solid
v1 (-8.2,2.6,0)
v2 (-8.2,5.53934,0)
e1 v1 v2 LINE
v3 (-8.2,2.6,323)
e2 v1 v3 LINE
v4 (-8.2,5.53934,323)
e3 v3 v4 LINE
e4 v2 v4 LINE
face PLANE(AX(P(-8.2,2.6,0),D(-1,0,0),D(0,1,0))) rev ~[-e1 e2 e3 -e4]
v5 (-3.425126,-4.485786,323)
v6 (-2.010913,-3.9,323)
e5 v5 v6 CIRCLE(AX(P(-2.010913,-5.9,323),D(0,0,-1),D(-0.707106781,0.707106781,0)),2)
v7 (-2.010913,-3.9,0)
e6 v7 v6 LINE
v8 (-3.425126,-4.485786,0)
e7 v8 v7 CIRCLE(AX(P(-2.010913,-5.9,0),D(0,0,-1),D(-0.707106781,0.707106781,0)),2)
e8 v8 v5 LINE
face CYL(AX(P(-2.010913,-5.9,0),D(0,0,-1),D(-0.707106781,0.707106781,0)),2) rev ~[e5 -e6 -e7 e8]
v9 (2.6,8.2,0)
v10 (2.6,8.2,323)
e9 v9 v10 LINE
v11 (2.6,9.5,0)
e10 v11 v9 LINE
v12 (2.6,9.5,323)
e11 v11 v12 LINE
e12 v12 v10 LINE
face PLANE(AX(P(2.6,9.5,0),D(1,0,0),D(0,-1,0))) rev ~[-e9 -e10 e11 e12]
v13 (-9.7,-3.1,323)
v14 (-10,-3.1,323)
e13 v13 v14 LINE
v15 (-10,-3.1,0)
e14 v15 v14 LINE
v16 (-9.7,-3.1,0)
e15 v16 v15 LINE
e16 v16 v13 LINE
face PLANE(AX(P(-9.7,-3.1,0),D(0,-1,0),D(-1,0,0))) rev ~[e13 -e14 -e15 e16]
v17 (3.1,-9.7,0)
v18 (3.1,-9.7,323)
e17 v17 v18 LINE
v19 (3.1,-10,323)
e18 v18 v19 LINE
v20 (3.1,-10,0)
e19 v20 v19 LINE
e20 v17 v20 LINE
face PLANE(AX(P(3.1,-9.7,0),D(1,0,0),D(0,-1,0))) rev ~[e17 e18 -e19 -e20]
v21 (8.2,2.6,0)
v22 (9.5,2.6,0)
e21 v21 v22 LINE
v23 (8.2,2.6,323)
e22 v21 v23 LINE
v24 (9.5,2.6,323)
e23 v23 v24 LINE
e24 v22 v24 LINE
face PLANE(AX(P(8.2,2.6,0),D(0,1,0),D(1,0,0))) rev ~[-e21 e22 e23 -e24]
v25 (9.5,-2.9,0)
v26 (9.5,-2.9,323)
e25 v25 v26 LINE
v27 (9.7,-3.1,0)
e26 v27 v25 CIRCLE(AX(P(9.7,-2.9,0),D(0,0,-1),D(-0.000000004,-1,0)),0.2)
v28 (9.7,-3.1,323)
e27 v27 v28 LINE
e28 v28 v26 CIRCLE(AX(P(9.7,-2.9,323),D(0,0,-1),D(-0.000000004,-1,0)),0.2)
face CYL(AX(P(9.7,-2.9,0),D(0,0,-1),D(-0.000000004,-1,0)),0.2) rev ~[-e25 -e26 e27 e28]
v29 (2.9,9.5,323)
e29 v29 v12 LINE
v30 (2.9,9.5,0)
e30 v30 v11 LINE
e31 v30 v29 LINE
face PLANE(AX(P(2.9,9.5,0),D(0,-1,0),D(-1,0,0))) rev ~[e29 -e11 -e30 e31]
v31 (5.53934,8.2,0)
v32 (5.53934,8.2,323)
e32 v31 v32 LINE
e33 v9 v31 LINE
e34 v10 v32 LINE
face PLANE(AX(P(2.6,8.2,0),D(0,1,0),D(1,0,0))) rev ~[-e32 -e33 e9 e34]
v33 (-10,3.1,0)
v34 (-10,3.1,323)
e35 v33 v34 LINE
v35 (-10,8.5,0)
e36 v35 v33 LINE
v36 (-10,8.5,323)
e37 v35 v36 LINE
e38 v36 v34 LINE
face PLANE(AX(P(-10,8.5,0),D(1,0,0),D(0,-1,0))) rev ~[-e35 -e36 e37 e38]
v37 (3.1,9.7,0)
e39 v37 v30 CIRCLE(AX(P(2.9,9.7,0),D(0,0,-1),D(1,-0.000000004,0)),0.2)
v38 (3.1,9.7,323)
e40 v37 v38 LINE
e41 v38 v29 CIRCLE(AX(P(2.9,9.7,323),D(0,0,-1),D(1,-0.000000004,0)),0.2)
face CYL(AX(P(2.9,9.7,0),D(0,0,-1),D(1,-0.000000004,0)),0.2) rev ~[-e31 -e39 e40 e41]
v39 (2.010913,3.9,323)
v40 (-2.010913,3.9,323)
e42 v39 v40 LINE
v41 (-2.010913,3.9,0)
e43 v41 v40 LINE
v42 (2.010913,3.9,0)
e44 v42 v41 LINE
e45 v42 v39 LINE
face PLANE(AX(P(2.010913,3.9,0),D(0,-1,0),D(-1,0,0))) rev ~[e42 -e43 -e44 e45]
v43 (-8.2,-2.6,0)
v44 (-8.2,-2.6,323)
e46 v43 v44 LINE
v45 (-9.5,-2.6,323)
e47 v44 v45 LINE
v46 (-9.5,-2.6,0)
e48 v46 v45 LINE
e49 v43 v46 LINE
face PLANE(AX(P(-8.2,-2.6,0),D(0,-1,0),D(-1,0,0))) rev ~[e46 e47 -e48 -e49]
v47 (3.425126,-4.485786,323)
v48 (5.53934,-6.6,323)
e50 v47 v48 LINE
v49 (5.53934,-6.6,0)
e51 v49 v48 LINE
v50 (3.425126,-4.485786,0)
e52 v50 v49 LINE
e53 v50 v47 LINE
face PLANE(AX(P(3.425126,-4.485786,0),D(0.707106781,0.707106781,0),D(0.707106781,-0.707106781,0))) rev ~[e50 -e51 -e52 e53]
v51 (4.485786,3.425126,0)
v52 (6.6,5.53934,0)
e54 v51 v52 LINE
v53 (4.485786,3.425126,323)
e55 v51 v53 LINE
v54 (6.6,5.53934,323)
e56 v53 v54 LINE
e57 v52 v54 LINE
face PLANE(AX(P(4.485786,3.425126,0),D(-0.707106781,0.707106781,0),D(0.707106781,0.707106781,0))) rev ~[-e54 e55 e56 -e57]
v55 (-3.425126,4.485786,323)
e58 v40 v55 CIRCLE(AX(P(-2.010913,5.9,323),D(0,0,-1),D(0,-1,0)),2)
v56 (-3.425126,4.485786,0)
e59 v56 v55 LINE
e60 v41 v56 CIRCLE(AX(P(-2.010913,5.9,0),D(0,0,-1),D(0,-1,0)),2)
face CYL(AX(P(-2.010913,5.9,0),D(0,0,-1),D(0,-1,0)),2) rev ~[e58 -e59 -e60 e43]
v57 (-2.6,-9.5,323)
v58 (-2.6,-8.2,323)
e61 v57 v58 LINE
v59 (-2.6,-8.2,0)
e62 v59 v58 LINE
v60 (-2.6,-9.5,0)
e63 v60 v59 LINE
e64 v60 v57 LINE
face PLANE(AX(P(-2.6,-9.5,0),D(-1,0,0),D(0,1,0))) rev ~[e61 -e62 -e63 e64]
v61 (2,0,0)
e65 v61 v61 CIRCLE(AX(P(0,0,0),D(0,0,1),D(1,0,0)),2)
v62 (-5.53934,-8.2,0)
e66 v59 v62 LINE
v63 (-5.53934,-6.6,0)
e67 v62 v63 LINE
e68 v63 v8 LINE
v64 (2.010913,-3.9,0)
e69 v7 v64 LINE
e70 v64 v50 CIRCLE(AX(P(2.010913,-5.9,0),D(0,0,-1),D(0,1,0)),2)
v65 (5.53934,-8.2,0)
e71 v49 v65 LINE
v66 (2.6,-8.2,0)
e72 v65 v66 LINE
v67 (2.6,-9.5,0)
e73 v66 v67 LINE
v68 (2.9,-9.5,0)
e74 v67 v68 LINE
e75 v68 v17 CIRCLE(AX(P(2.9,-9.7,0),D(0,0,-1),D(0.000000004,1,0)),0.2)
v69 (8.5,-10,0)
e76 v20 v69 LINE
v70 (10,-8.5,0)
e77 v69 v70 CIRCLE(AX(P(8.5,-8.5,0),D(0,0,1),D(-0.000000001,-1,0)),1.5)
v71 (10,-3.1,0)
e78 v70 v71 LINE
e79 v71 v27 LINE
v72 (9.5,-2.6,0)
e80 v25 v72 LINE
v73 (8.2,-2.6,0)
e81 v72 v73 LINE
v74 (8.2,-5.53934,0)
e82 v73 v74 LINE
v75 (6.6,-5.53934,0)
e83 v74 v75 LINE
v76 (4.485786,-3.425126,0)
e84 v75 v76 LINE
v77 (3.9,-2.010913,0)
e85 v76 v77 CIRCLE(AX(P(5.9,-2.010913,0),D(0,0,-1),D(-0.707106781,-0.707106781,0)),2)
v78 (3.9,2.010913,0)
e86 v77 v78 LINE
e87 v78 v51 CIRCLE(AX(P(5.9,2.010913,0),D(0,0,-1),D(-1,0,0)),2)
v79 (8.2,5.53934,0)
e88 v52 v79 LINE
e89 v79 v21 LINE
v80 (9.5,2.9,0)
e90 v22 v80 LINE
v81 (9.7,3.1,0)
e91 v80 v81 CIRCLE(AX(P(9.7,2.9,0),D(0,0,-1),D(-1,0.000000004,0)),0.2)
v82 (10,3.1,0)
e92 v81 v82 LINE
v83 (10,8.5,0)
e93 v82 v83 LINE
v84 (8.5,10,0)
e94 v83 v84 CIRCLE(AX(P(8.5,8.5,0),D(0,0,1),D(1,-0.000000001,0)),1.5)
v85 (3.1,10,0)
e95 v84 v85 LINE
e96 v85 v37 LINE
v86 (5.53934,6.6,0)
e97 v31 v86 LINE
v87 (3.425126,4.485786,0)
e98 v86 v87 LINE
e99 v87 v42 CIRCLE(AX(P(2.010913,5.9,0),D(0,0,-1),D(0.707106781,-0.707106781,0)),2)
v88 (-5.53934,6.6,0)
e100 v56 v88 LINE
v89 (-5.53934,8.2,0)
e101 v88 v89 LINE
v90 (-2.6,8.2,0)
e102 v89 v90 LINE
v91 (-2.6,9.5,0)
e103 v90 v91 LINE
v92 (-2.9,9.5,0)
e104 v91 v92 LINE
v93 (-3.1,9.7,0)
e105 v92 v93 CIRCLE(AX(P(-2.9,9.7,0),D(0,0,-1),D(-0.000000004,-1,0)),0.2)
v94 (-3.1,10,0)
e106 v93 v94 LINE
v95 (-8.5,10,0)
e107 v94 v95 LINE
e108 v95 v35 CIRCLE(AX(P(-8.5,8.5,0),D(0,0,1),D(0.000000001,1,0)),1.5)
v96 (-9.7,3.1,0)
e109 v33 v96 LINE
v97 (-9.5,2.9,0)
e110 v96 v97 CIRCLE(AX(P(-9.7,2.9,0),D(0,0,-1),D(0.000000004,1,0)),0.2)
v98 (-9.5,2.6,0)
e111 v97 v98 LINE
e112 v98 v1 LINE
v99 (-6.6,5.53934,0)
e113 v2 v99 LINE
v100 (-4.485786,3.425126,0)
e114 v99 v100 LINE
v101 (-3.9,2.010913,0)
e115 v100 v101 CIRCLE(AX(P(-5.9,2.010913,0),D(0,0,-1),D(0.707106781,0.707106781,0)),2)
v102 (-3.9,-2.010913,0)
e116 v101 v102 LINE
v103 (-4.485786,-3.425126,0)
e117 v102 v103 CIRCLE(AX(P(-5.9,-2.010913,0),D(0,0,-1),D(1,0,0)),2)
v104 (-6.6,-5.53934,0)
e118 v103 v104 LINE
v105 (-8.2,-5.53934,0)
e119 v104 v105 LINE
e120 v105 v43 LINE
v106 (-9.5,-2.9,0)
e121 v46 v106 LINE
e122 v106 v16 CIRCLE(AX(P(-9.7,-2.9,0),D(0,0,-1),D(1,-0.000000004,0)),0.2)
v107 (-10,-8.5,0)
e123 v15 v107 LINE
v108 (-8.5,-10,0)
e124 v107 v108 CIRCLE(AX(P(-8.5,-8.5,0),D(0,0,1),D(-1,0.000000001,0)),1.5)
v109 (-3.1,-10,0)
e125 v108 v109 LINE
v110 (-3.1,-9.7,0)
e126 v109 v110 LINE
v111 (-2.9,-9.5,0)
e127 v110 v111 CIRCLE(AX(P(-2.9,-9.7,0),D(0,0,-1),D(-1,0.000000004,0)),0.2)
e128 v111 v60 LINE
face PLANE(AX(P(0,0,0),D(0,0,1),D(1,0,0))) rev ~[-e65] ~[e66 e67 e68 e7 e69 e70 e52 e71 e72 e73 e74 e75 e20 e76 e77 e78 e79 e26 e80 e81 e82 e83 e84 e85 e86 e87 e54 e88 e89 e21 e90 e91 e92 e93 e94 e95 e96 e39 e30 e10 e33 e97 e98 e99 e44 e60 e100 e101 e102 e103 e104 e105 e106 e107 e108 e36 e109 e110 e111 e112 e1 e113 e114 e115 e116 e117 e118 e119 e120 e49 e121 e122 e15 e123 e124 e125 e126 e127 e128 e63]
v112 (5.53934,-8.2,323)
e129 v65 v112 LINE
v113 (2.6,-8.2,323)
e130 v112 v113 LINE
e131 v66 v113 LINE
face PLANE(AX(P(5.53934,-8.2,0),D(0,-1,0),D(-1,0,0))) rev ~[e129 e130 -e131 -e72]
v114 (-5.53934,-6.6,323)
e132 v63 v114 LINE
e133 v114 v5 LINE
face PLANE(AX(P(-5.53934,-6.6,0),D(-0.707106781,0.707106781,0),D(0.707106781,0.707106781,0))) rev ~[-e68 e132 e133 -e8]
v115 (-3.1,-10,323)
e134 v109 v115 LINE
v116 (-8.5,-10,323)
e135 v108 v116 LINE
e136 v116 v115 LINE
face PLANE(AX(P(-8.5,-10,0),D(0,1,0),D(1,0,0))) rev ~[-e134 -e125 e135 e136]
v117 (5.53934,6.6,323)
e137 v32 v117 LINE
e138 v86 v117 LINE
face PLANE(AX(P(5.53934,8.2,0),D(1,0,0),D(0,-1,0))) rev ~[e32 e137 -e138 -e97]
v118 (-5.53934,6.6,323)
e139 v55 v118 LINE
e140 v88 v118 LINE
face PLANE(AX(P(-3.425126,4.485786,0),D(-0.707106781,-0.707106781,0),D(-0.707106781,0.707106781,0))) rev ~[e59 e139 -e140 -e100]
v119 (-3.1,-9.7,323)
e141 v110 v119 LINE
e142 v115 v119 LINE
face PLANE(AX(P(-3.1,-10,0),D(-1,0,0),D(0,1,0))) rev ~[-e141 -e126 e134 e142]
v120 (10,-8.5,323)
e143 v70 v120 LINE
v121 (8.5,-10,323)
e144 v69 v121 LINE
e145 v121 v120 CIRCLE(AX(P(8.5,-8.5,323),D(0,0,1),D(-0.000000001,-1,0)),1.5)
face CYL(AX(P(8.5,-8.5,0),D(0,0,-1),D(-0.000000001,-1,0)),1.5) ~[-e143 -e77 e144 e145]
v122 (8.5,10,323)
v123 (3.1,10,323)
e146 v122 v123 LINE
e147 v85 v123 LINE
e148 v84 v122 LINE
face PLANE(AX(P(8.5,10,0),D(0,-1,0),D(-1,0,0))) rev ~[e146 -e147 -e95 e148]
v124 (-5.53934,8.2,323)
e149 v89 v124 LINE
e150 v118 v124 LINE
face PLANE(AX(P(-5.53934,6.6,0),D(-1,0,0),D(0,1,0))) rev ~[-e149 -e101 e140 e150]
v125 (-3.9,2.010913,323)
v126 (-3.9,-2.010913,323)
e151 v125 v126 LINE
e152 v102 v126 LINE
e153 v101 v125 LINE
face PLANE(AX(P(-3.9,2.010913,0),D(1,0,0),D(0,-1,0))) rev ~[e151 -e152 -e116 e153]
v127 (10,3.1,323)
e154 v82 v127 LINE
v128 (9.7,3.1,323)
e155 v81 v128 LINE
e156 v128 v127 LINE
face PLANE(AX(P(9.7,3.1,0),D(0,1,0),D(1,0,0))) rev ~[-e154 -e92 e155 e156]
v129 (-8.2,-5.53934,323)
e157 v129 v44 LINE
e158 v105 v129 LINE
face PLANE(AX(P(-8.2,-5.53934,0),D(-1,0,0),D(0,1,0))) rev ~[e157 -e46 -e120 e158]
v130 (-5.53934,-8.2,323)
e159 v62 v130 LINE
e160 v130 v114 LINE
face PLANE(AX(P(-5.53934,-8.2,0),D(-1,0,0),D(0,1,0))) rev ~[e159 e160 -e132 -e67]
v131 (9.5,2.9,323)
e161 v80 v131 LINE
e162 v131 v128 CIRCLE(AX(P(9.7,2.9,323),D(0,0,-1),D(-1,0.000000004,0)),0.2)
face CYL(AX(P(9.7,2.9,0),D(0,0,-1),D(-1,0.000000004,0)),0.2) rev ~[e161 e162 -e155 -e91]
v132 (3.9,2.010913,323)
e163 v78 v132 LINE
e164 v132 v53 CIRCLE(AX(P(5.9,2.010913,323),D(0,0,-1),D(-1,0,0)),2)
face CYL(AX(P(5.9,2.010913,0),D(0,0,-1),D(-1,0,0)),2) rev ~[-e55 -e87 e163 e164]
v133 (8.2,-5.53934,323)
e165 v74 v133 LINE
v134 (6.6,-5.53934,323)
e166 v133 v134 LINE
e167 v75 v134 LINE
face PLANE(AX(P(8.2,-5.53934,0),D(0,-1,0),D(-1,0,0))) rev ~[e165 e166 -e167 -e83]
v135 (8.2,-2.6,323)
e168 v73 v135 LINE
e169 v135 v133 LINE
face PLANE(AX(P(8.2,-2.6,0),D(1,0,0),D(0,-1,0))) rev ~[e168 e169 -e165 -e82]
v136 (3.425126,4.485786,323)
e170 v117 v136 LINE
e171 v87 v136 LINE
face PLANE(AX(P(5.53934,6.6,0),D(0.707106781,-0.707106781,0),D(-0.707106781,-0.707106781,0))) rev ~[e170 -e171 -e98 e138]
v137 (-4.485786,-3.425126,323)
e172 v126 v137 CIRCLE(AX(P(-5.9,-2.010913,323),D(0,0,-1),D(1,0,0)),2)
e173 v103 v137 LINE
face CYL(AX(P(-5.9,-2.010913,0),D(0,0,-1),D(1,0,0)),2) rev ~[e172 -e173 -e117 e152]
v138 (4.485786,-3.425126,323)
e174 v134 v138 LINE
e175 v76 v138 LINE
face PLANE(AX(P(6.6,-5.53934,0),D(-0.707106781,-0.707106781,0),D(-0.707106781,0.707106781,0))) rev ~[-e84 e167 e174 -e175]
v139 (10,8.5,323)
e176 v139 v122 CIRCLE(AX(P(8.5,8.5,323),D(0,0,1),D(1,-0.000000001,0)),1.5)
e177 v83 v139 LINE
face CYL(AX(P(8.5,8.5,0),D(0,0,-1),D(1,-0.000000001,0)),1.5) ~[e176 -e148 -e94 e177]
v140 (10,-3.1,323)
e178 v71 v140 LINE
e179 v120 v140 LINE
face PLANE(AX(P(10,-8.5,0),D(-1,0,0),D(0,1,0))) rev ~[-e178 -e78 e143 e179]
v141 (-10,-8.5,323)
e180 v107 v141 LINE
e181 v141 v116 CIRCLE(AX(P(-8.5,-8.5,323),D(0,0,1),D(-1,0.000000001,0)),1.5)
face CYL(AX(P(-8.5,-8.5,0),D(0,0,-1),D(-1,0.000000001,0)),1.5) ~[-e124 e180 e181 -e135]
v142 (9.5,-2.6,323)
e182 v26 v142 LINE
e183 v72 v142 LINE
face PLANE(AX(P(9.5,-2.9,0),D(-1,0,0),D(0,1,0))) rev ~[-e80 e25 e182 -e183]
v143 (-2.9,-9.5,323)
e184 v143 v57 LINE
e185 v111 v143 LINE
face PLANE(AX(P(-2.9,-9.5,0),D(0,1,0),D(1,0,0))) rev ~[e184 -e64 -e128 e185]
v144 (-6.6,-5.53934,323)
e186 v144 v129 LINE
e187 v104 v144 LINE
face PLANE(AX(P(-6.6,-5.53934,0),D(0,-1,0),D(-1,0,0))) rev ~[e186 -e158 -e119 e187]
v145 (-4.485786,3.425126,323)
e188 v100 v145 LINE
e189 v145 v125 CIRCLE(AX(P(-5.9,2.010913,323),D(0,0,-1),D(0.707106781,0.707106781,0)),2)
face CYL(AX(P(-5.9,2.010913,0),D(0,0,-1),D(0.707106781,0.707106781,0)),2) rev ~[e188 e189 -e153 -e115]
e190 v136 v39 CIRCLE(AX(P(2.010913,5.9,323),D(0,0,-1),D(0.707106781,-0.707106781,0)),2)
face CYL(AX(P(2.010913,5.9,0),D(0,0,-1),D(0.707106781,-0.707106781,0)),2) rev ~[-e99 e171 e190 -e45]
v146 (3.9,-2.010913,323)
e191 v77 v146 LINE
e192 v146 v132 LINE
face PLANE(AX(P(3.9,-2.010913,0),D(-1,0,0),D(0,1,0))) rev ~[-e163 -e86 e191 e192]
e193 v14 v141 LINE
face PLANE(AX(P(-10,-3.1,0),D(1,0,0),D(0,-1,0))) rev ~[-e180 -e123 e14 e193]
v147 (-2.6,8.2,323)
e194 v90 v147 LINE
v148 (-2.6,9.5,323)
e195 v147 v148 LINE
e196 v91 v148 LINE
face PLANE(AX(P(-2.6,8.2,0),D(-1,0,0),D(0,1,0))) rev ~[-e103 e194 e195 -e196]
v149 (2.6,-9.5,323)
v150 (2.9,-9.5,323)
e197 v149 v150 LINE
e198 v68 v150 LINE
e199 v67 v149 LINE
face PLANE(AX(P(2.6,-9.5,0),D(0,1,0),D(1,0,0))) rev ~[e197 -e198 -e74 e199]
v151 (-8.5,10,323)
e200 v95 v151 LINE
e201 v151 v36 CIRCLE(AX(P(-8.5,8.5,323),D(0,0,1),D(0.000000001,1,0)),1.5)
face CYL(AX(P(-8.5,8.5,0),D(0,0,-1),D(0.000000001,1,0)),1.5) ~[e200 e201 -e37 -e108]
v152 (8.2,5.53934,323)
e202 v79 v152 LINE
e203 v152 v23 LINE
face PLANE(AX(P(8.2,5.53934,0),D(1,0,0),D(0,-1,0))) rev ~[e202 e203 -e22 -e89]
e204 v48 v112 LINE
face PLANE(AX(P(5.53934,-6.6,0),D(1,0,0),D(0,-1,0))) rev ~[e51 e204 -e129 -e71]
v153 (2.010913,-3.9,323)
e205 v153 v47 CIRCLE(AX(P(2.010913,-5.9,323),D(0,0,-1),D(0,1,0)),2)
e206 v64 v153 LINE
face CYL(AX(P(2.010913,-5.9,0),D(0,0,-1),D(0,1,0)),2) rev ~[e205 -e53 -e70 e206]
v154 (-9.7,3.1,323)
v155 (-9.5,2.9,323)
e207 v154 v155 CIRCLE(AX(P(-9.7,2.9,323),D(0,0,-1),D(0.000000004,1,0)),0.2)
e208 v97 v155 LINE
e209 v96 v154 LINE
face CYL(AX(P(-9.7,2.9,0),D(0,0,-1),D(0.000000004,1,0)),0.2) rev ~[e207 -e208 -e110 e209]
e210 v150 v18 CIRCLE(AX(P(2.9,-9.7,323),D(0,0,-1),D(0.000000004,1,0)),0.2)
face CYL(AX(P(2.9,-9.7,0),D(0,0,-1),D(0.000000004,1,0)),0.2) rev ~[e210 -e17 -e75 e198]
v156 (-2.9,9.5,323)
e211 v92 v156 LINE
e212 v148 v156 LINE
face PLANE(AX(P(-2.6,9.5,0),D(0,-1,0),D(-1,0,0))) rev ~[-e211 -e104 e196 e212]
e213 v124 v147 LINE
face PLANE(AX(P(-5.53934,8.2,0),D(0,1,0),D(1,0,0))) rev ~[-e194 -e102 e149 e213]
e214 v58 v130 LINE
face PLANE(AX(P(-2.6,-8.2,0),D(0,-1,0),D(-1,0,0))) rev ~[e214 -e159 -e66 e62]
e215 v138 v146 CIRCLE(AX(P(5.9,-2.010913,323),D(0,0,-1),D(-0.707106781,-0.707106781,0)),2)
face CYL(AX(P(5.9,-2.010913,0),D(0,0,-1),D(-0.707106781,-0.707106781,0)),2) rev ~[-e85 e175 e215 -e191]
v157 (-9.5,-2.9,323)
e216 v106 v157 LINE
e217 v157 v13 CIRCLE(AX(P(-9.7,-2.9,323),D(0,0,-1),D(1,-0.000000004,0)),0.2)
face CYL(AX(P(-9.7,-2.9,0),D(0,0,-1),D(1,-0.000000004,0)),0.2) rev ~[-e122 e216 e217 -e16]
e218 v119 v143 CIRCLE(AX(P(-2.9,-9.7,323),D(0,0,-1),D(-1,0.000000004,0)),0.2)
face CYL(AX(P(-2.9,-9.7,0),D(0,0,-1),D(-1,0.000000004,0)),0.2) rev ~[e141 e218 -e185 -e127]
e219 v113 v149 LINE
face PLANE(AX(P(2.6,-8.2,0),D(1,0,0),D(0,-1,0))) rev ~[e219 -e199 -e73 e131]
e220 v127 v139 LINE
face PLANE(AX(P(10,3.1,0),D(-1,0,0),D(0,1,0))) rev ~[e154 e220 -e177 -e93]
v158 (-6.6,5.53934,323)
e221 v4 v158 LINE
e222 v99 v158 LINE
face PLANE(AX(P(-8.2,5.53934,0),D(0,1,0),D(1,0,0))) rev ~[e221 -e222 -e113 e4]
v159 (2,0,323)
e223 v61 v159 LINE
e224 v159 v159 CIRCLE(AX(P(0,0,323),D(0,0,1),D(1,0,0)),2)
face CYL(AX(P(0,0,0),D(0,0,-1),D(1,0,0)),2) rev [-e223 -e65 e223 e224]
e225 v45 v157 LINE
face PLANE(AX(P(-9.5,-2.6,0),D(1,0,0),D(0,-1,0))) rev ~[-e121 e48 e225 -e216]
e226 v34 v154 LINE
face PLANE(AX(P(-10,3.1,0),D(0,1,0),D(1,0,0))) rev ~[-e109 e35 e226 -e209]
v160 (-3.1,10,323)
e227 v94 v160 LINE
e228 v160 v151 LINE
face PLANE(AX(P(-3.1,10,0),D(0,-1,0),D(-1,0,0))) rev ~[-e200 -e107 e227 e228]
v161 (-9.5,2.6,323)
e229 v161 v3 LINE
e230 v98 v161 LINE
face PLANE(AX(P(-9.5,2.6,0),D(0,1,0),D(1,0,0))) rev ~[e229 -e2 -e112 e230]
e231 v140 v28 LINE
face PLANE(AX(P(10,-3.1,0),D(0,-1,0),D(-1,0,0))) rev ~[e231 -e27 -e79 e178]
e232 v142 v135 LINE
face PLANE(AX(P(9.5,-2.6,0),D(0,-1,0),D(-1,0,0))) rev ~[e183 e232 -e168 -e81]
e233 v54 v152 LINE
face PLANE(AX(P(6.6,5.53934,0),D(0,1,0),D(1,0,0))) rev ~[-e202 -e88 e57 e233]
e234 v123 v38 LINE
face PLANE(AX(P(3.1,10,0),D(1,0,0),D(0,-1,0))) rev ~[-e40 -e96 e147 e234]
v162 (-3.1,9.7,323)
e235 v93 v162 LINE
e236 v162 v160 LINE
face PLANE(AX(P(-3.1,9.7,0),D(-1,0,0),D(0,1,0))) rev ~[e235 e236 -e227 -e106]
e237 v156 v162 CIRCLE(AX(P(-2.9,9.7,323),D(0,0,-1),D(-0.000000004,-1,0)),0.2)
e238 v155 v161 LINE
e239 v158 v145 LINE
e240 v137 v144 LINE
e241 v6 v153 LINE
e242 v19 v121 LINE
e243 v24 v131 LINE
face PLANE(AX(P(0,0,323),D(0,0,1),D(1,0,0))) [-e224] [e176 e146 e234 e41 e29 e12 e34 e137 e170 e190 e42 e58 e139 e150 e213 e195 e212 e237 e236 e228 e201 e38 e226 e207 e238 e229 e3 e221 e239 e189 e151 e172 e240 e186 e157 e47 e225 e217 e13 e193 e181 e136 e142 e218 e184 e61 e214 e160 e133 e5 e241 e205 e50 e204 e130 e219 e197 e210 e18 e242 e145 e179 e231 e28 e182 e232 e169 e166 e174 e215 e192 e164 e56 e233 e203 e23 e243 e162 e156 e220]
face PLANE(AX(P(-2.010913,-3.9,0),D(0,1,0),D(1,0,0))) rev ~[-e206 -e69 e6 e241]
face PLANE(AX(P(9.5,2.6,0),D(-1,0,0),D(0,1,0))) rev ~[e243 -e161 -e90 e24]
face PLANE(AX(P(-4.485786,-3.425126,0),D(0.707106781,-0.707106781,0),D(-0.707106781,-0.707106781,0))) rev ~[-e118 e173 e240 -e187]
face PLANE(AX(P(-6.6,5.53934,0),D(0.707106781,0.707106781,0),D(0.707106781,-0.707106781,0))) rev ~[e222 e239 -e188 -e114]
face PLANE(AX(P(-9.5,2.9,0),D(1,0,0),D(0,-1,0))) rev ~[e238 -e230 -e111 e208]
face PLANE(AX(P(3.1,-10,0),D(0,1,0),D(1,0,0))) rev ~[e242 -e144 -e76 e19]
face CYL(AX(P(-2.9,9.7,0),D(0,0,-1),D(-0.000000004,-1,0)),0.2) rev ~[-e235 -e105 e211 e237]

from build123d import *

# Parameters (mm, degrees)
SKETCH1_R      = 2
EXTRUDE1_DEPTH = 323


with BuildPart() as part:
    # Sketch1 → Extrude1 (new body)
    with BuildSketch(Plane.XY):
        with BuildLine():
            Line((0, 3.9), (-2.010912703, 3.9))
            ThreePointArc((-2.010912703, 3.9), (-2.776279568, 4.052240935), (-3.425126266, 4.485786438))
            Line((-3.425126266, 4.485786438), (-5.539339828, 6.6))
            Line((-5.539339828, 6.6), (-5.539339828, 8.2))
            Line((-5.539339828, 8.2), (-2.6, 8.2))
            Line((-2.6, 8.2), (-2.6, 9.5))
            Line((-2.6, 9.5), (-2.9, 9.5))
            ThreePointArc((-2.9, 9.5), (-3.041421356, 9.558578644), (-3.1, 9.7))
            Line((-3.1, 9.7), (-3.1, 10))
            Line((-3.1, 10), (-8.5, 10))
            ThreePointArc((-8.5, 10), (-9.560660172, 9.560660172), (-10, 8.5))
            Line((-10, 8.5), (-10, 3.1))
            Line((-10, 3.1), (-9.7, 3.1))
            ThreePointArc((-9.7, 3.1), (-9.558578644, 3.041421356), (-9.5, 2.9))
            Line((-9.5, 2.9), (-9.5, 2.6))
            Line((-9.5, 2.6), (-8.2, 2.6))
            Line((-8.2, 2.6), (-8.2, 5.539339828))
            Line((-8.2, 5.539339828), (-6.6, 5.539339828))
            Line((-6.6, 5.539339828), (-4.485786438, 3.425126266))
            ThreePointArc((-4.485786438, 3.425126266), (-4.052240935, 2.776279568), (-3.9, 2.010912703))
            Line((-3.9, 2.010912703), (-3.9, 0))
            Line((-3.9, 0), (-3.9, -2.010912703))
            ThreePointArc((-3.9, -2.010912703), (-4.052240935, -2.776279568), (-4.485786438, -3.425126266))
            Line((-4.485786438, -3.425126266), (-6.6, -5.539339828))
            Line((-6.6, -5.539339828), (-8.2, -5.539339828))
            Line((-8.2, -5.539339828), (-8.2, -2.6))
            Line((-8.2, -2.6), (-9.5, -2.6))
            Line((-9.5, -2.6), (-9.5, -2.9))
            ThreePointArc((-9.5, -2.9), (-9.558578644, -3.041421356), (-9.7, -3.1))
            Line((-9.7, -3.1), (-10, -3.1))
            Line((-10, -3.1), (-10, -8.5))
            ThreePointArc((-10, -8.5), (-9.560660172, -9.560660172), (-8.5, -10))
            Line((-8.5, -10), (-3.1, -10))
            Line((-3.1, -10), (-3.1, -9.7))
            ThreePointArc((-3.1, -9.7), (-3.041421356, -9.558578644), (-2.9, -9.5))
            Line((-2.9, -9.5), (-2.6, -9.5))
            Line((-2.6, -9.5), (-2.6, -8.2))
            Line((-2.6, -8.2), (-5.539339828, -8.2))
            Line((-5.539339828, -8.2), (-5.539339828, -6.6))
            Line((-5.539339828, -6.6), (-3.425126266, -4.485786438))
            ThreePointArc((-3.425126266, -4.485786438), (-2.776279568, -4.052240935), (-2.010912703, -3.9))
            Line((-2.010912703, -3.9), (0, -3.9))
            Line((0, -3.9), (2.010912703, -3.9))
            ThreePointArc((2.010912703, -3.9), (2.776279568, -4.052240935), (3.425126266, -4.485786438))
            Line((3.425126266, -4.485786438), (5.539339828, -6.6))
            Line((5.539339828, -6.6), (5.539339828, -8.2))
            Line((5.539339828, -8.2), (2.6, -8.2))
            Line((2.6, -8.2), (2.6, -9.5))
            Line((2.6, -9.5), (2.9, -9.5))
            ThreePointArc((2.9, -9.5), (3.041421356, -9.558578644), (3.1, -9.7))
            Line((3.1, -9.7), (3.1, -10))
            Line((3.1, -10), (8.5, -10))
            ThreePointArc((8.5, -10), (9.560660172, -9.560660172), (10, -8.5))
            Line((10, -8.5), (10, -3.1))
            Line((10, -3.1), (9.7, -3.1))
            ThreePointArc((9.7, -3.1), (9.558578644, -3.041421356), (9.5, -2.9))
            Line((9.5, -2.9), (9.5, -2.6))
            Line((9.5, -2.6), (8.2, -2.6))
            Line((8.2, -2.6), (8.2, -5.539339828))
            Line((8.2, -5.539339828), (6.6, -5.539339828))
            Line((6.6, -5.539339828), (4.485786438, -3.425126266))
            ThreePointArc((4.485786438, -3.425126266), (4.052240935, -2.776279568), (3.9, -2.010912703))
            Line((3.9, -2.010912703), (3.9, 0))
            Line((3.9, 0), (3.9, 2.010912703))
            ThreePointArc((3.9, 2.010912703), (4.052240935, 2.776279568), (4.485786438, 3.425126266))
            Line((4.485786438, 3.425126266), (6.6, 5.539339828))
            Line((6.6, 5.539339828), (8.2, 5.539339828))
            Line((8.2, 5.539339828), (8.2, 2.6))
            Line((8.2, 2.6), (9.5, 2.6))
            Line((9.5, 2.6), (9.5, 2.9))
            ThreePointArc((9.5, 2.9), (9.558578644, 3.041421356), (9.7, 3.1))
            Line((9.7, 3.1), (10, 3.1))
            Line((10, 3.1), (10, 8.5))
            ThreePointArc((10, 8.5), (9.560660172, 9.560660172), (8.5, 10))
            Line((8.5, 10), (3.1, 10))
            Line((3.1, 10), (3.1, 9.7))
            ThreePointArc((3.1, 9.7), (3.041421356, 9.558578644), (2.9, 9.5))
            Line((2.9, 9.5), (2.6, 9.5))
            Line((2.6, 9.5), (2.6, 8.2))
            Line((2.6, 8.2), (5.539339828, 8.2))
            Line((5.539339828, 8.2), (5.539339828, 6.6))
            Line((5.539339828, 6.6), (3.425126266, 4.485786438))
            ThreePointArc((3.425126266, 4.485786438), (2.776279568, 4.052240935), (2.010912703, 3.9))
            Line((2.010912703, 3.9), (0, 3.9))
        make_face()
        Circle(SKETCH1_R, mode=Mode.SUBTRACT)
    extrude(amount=EXTRUDE1_DEPTH)


solid = part.part
